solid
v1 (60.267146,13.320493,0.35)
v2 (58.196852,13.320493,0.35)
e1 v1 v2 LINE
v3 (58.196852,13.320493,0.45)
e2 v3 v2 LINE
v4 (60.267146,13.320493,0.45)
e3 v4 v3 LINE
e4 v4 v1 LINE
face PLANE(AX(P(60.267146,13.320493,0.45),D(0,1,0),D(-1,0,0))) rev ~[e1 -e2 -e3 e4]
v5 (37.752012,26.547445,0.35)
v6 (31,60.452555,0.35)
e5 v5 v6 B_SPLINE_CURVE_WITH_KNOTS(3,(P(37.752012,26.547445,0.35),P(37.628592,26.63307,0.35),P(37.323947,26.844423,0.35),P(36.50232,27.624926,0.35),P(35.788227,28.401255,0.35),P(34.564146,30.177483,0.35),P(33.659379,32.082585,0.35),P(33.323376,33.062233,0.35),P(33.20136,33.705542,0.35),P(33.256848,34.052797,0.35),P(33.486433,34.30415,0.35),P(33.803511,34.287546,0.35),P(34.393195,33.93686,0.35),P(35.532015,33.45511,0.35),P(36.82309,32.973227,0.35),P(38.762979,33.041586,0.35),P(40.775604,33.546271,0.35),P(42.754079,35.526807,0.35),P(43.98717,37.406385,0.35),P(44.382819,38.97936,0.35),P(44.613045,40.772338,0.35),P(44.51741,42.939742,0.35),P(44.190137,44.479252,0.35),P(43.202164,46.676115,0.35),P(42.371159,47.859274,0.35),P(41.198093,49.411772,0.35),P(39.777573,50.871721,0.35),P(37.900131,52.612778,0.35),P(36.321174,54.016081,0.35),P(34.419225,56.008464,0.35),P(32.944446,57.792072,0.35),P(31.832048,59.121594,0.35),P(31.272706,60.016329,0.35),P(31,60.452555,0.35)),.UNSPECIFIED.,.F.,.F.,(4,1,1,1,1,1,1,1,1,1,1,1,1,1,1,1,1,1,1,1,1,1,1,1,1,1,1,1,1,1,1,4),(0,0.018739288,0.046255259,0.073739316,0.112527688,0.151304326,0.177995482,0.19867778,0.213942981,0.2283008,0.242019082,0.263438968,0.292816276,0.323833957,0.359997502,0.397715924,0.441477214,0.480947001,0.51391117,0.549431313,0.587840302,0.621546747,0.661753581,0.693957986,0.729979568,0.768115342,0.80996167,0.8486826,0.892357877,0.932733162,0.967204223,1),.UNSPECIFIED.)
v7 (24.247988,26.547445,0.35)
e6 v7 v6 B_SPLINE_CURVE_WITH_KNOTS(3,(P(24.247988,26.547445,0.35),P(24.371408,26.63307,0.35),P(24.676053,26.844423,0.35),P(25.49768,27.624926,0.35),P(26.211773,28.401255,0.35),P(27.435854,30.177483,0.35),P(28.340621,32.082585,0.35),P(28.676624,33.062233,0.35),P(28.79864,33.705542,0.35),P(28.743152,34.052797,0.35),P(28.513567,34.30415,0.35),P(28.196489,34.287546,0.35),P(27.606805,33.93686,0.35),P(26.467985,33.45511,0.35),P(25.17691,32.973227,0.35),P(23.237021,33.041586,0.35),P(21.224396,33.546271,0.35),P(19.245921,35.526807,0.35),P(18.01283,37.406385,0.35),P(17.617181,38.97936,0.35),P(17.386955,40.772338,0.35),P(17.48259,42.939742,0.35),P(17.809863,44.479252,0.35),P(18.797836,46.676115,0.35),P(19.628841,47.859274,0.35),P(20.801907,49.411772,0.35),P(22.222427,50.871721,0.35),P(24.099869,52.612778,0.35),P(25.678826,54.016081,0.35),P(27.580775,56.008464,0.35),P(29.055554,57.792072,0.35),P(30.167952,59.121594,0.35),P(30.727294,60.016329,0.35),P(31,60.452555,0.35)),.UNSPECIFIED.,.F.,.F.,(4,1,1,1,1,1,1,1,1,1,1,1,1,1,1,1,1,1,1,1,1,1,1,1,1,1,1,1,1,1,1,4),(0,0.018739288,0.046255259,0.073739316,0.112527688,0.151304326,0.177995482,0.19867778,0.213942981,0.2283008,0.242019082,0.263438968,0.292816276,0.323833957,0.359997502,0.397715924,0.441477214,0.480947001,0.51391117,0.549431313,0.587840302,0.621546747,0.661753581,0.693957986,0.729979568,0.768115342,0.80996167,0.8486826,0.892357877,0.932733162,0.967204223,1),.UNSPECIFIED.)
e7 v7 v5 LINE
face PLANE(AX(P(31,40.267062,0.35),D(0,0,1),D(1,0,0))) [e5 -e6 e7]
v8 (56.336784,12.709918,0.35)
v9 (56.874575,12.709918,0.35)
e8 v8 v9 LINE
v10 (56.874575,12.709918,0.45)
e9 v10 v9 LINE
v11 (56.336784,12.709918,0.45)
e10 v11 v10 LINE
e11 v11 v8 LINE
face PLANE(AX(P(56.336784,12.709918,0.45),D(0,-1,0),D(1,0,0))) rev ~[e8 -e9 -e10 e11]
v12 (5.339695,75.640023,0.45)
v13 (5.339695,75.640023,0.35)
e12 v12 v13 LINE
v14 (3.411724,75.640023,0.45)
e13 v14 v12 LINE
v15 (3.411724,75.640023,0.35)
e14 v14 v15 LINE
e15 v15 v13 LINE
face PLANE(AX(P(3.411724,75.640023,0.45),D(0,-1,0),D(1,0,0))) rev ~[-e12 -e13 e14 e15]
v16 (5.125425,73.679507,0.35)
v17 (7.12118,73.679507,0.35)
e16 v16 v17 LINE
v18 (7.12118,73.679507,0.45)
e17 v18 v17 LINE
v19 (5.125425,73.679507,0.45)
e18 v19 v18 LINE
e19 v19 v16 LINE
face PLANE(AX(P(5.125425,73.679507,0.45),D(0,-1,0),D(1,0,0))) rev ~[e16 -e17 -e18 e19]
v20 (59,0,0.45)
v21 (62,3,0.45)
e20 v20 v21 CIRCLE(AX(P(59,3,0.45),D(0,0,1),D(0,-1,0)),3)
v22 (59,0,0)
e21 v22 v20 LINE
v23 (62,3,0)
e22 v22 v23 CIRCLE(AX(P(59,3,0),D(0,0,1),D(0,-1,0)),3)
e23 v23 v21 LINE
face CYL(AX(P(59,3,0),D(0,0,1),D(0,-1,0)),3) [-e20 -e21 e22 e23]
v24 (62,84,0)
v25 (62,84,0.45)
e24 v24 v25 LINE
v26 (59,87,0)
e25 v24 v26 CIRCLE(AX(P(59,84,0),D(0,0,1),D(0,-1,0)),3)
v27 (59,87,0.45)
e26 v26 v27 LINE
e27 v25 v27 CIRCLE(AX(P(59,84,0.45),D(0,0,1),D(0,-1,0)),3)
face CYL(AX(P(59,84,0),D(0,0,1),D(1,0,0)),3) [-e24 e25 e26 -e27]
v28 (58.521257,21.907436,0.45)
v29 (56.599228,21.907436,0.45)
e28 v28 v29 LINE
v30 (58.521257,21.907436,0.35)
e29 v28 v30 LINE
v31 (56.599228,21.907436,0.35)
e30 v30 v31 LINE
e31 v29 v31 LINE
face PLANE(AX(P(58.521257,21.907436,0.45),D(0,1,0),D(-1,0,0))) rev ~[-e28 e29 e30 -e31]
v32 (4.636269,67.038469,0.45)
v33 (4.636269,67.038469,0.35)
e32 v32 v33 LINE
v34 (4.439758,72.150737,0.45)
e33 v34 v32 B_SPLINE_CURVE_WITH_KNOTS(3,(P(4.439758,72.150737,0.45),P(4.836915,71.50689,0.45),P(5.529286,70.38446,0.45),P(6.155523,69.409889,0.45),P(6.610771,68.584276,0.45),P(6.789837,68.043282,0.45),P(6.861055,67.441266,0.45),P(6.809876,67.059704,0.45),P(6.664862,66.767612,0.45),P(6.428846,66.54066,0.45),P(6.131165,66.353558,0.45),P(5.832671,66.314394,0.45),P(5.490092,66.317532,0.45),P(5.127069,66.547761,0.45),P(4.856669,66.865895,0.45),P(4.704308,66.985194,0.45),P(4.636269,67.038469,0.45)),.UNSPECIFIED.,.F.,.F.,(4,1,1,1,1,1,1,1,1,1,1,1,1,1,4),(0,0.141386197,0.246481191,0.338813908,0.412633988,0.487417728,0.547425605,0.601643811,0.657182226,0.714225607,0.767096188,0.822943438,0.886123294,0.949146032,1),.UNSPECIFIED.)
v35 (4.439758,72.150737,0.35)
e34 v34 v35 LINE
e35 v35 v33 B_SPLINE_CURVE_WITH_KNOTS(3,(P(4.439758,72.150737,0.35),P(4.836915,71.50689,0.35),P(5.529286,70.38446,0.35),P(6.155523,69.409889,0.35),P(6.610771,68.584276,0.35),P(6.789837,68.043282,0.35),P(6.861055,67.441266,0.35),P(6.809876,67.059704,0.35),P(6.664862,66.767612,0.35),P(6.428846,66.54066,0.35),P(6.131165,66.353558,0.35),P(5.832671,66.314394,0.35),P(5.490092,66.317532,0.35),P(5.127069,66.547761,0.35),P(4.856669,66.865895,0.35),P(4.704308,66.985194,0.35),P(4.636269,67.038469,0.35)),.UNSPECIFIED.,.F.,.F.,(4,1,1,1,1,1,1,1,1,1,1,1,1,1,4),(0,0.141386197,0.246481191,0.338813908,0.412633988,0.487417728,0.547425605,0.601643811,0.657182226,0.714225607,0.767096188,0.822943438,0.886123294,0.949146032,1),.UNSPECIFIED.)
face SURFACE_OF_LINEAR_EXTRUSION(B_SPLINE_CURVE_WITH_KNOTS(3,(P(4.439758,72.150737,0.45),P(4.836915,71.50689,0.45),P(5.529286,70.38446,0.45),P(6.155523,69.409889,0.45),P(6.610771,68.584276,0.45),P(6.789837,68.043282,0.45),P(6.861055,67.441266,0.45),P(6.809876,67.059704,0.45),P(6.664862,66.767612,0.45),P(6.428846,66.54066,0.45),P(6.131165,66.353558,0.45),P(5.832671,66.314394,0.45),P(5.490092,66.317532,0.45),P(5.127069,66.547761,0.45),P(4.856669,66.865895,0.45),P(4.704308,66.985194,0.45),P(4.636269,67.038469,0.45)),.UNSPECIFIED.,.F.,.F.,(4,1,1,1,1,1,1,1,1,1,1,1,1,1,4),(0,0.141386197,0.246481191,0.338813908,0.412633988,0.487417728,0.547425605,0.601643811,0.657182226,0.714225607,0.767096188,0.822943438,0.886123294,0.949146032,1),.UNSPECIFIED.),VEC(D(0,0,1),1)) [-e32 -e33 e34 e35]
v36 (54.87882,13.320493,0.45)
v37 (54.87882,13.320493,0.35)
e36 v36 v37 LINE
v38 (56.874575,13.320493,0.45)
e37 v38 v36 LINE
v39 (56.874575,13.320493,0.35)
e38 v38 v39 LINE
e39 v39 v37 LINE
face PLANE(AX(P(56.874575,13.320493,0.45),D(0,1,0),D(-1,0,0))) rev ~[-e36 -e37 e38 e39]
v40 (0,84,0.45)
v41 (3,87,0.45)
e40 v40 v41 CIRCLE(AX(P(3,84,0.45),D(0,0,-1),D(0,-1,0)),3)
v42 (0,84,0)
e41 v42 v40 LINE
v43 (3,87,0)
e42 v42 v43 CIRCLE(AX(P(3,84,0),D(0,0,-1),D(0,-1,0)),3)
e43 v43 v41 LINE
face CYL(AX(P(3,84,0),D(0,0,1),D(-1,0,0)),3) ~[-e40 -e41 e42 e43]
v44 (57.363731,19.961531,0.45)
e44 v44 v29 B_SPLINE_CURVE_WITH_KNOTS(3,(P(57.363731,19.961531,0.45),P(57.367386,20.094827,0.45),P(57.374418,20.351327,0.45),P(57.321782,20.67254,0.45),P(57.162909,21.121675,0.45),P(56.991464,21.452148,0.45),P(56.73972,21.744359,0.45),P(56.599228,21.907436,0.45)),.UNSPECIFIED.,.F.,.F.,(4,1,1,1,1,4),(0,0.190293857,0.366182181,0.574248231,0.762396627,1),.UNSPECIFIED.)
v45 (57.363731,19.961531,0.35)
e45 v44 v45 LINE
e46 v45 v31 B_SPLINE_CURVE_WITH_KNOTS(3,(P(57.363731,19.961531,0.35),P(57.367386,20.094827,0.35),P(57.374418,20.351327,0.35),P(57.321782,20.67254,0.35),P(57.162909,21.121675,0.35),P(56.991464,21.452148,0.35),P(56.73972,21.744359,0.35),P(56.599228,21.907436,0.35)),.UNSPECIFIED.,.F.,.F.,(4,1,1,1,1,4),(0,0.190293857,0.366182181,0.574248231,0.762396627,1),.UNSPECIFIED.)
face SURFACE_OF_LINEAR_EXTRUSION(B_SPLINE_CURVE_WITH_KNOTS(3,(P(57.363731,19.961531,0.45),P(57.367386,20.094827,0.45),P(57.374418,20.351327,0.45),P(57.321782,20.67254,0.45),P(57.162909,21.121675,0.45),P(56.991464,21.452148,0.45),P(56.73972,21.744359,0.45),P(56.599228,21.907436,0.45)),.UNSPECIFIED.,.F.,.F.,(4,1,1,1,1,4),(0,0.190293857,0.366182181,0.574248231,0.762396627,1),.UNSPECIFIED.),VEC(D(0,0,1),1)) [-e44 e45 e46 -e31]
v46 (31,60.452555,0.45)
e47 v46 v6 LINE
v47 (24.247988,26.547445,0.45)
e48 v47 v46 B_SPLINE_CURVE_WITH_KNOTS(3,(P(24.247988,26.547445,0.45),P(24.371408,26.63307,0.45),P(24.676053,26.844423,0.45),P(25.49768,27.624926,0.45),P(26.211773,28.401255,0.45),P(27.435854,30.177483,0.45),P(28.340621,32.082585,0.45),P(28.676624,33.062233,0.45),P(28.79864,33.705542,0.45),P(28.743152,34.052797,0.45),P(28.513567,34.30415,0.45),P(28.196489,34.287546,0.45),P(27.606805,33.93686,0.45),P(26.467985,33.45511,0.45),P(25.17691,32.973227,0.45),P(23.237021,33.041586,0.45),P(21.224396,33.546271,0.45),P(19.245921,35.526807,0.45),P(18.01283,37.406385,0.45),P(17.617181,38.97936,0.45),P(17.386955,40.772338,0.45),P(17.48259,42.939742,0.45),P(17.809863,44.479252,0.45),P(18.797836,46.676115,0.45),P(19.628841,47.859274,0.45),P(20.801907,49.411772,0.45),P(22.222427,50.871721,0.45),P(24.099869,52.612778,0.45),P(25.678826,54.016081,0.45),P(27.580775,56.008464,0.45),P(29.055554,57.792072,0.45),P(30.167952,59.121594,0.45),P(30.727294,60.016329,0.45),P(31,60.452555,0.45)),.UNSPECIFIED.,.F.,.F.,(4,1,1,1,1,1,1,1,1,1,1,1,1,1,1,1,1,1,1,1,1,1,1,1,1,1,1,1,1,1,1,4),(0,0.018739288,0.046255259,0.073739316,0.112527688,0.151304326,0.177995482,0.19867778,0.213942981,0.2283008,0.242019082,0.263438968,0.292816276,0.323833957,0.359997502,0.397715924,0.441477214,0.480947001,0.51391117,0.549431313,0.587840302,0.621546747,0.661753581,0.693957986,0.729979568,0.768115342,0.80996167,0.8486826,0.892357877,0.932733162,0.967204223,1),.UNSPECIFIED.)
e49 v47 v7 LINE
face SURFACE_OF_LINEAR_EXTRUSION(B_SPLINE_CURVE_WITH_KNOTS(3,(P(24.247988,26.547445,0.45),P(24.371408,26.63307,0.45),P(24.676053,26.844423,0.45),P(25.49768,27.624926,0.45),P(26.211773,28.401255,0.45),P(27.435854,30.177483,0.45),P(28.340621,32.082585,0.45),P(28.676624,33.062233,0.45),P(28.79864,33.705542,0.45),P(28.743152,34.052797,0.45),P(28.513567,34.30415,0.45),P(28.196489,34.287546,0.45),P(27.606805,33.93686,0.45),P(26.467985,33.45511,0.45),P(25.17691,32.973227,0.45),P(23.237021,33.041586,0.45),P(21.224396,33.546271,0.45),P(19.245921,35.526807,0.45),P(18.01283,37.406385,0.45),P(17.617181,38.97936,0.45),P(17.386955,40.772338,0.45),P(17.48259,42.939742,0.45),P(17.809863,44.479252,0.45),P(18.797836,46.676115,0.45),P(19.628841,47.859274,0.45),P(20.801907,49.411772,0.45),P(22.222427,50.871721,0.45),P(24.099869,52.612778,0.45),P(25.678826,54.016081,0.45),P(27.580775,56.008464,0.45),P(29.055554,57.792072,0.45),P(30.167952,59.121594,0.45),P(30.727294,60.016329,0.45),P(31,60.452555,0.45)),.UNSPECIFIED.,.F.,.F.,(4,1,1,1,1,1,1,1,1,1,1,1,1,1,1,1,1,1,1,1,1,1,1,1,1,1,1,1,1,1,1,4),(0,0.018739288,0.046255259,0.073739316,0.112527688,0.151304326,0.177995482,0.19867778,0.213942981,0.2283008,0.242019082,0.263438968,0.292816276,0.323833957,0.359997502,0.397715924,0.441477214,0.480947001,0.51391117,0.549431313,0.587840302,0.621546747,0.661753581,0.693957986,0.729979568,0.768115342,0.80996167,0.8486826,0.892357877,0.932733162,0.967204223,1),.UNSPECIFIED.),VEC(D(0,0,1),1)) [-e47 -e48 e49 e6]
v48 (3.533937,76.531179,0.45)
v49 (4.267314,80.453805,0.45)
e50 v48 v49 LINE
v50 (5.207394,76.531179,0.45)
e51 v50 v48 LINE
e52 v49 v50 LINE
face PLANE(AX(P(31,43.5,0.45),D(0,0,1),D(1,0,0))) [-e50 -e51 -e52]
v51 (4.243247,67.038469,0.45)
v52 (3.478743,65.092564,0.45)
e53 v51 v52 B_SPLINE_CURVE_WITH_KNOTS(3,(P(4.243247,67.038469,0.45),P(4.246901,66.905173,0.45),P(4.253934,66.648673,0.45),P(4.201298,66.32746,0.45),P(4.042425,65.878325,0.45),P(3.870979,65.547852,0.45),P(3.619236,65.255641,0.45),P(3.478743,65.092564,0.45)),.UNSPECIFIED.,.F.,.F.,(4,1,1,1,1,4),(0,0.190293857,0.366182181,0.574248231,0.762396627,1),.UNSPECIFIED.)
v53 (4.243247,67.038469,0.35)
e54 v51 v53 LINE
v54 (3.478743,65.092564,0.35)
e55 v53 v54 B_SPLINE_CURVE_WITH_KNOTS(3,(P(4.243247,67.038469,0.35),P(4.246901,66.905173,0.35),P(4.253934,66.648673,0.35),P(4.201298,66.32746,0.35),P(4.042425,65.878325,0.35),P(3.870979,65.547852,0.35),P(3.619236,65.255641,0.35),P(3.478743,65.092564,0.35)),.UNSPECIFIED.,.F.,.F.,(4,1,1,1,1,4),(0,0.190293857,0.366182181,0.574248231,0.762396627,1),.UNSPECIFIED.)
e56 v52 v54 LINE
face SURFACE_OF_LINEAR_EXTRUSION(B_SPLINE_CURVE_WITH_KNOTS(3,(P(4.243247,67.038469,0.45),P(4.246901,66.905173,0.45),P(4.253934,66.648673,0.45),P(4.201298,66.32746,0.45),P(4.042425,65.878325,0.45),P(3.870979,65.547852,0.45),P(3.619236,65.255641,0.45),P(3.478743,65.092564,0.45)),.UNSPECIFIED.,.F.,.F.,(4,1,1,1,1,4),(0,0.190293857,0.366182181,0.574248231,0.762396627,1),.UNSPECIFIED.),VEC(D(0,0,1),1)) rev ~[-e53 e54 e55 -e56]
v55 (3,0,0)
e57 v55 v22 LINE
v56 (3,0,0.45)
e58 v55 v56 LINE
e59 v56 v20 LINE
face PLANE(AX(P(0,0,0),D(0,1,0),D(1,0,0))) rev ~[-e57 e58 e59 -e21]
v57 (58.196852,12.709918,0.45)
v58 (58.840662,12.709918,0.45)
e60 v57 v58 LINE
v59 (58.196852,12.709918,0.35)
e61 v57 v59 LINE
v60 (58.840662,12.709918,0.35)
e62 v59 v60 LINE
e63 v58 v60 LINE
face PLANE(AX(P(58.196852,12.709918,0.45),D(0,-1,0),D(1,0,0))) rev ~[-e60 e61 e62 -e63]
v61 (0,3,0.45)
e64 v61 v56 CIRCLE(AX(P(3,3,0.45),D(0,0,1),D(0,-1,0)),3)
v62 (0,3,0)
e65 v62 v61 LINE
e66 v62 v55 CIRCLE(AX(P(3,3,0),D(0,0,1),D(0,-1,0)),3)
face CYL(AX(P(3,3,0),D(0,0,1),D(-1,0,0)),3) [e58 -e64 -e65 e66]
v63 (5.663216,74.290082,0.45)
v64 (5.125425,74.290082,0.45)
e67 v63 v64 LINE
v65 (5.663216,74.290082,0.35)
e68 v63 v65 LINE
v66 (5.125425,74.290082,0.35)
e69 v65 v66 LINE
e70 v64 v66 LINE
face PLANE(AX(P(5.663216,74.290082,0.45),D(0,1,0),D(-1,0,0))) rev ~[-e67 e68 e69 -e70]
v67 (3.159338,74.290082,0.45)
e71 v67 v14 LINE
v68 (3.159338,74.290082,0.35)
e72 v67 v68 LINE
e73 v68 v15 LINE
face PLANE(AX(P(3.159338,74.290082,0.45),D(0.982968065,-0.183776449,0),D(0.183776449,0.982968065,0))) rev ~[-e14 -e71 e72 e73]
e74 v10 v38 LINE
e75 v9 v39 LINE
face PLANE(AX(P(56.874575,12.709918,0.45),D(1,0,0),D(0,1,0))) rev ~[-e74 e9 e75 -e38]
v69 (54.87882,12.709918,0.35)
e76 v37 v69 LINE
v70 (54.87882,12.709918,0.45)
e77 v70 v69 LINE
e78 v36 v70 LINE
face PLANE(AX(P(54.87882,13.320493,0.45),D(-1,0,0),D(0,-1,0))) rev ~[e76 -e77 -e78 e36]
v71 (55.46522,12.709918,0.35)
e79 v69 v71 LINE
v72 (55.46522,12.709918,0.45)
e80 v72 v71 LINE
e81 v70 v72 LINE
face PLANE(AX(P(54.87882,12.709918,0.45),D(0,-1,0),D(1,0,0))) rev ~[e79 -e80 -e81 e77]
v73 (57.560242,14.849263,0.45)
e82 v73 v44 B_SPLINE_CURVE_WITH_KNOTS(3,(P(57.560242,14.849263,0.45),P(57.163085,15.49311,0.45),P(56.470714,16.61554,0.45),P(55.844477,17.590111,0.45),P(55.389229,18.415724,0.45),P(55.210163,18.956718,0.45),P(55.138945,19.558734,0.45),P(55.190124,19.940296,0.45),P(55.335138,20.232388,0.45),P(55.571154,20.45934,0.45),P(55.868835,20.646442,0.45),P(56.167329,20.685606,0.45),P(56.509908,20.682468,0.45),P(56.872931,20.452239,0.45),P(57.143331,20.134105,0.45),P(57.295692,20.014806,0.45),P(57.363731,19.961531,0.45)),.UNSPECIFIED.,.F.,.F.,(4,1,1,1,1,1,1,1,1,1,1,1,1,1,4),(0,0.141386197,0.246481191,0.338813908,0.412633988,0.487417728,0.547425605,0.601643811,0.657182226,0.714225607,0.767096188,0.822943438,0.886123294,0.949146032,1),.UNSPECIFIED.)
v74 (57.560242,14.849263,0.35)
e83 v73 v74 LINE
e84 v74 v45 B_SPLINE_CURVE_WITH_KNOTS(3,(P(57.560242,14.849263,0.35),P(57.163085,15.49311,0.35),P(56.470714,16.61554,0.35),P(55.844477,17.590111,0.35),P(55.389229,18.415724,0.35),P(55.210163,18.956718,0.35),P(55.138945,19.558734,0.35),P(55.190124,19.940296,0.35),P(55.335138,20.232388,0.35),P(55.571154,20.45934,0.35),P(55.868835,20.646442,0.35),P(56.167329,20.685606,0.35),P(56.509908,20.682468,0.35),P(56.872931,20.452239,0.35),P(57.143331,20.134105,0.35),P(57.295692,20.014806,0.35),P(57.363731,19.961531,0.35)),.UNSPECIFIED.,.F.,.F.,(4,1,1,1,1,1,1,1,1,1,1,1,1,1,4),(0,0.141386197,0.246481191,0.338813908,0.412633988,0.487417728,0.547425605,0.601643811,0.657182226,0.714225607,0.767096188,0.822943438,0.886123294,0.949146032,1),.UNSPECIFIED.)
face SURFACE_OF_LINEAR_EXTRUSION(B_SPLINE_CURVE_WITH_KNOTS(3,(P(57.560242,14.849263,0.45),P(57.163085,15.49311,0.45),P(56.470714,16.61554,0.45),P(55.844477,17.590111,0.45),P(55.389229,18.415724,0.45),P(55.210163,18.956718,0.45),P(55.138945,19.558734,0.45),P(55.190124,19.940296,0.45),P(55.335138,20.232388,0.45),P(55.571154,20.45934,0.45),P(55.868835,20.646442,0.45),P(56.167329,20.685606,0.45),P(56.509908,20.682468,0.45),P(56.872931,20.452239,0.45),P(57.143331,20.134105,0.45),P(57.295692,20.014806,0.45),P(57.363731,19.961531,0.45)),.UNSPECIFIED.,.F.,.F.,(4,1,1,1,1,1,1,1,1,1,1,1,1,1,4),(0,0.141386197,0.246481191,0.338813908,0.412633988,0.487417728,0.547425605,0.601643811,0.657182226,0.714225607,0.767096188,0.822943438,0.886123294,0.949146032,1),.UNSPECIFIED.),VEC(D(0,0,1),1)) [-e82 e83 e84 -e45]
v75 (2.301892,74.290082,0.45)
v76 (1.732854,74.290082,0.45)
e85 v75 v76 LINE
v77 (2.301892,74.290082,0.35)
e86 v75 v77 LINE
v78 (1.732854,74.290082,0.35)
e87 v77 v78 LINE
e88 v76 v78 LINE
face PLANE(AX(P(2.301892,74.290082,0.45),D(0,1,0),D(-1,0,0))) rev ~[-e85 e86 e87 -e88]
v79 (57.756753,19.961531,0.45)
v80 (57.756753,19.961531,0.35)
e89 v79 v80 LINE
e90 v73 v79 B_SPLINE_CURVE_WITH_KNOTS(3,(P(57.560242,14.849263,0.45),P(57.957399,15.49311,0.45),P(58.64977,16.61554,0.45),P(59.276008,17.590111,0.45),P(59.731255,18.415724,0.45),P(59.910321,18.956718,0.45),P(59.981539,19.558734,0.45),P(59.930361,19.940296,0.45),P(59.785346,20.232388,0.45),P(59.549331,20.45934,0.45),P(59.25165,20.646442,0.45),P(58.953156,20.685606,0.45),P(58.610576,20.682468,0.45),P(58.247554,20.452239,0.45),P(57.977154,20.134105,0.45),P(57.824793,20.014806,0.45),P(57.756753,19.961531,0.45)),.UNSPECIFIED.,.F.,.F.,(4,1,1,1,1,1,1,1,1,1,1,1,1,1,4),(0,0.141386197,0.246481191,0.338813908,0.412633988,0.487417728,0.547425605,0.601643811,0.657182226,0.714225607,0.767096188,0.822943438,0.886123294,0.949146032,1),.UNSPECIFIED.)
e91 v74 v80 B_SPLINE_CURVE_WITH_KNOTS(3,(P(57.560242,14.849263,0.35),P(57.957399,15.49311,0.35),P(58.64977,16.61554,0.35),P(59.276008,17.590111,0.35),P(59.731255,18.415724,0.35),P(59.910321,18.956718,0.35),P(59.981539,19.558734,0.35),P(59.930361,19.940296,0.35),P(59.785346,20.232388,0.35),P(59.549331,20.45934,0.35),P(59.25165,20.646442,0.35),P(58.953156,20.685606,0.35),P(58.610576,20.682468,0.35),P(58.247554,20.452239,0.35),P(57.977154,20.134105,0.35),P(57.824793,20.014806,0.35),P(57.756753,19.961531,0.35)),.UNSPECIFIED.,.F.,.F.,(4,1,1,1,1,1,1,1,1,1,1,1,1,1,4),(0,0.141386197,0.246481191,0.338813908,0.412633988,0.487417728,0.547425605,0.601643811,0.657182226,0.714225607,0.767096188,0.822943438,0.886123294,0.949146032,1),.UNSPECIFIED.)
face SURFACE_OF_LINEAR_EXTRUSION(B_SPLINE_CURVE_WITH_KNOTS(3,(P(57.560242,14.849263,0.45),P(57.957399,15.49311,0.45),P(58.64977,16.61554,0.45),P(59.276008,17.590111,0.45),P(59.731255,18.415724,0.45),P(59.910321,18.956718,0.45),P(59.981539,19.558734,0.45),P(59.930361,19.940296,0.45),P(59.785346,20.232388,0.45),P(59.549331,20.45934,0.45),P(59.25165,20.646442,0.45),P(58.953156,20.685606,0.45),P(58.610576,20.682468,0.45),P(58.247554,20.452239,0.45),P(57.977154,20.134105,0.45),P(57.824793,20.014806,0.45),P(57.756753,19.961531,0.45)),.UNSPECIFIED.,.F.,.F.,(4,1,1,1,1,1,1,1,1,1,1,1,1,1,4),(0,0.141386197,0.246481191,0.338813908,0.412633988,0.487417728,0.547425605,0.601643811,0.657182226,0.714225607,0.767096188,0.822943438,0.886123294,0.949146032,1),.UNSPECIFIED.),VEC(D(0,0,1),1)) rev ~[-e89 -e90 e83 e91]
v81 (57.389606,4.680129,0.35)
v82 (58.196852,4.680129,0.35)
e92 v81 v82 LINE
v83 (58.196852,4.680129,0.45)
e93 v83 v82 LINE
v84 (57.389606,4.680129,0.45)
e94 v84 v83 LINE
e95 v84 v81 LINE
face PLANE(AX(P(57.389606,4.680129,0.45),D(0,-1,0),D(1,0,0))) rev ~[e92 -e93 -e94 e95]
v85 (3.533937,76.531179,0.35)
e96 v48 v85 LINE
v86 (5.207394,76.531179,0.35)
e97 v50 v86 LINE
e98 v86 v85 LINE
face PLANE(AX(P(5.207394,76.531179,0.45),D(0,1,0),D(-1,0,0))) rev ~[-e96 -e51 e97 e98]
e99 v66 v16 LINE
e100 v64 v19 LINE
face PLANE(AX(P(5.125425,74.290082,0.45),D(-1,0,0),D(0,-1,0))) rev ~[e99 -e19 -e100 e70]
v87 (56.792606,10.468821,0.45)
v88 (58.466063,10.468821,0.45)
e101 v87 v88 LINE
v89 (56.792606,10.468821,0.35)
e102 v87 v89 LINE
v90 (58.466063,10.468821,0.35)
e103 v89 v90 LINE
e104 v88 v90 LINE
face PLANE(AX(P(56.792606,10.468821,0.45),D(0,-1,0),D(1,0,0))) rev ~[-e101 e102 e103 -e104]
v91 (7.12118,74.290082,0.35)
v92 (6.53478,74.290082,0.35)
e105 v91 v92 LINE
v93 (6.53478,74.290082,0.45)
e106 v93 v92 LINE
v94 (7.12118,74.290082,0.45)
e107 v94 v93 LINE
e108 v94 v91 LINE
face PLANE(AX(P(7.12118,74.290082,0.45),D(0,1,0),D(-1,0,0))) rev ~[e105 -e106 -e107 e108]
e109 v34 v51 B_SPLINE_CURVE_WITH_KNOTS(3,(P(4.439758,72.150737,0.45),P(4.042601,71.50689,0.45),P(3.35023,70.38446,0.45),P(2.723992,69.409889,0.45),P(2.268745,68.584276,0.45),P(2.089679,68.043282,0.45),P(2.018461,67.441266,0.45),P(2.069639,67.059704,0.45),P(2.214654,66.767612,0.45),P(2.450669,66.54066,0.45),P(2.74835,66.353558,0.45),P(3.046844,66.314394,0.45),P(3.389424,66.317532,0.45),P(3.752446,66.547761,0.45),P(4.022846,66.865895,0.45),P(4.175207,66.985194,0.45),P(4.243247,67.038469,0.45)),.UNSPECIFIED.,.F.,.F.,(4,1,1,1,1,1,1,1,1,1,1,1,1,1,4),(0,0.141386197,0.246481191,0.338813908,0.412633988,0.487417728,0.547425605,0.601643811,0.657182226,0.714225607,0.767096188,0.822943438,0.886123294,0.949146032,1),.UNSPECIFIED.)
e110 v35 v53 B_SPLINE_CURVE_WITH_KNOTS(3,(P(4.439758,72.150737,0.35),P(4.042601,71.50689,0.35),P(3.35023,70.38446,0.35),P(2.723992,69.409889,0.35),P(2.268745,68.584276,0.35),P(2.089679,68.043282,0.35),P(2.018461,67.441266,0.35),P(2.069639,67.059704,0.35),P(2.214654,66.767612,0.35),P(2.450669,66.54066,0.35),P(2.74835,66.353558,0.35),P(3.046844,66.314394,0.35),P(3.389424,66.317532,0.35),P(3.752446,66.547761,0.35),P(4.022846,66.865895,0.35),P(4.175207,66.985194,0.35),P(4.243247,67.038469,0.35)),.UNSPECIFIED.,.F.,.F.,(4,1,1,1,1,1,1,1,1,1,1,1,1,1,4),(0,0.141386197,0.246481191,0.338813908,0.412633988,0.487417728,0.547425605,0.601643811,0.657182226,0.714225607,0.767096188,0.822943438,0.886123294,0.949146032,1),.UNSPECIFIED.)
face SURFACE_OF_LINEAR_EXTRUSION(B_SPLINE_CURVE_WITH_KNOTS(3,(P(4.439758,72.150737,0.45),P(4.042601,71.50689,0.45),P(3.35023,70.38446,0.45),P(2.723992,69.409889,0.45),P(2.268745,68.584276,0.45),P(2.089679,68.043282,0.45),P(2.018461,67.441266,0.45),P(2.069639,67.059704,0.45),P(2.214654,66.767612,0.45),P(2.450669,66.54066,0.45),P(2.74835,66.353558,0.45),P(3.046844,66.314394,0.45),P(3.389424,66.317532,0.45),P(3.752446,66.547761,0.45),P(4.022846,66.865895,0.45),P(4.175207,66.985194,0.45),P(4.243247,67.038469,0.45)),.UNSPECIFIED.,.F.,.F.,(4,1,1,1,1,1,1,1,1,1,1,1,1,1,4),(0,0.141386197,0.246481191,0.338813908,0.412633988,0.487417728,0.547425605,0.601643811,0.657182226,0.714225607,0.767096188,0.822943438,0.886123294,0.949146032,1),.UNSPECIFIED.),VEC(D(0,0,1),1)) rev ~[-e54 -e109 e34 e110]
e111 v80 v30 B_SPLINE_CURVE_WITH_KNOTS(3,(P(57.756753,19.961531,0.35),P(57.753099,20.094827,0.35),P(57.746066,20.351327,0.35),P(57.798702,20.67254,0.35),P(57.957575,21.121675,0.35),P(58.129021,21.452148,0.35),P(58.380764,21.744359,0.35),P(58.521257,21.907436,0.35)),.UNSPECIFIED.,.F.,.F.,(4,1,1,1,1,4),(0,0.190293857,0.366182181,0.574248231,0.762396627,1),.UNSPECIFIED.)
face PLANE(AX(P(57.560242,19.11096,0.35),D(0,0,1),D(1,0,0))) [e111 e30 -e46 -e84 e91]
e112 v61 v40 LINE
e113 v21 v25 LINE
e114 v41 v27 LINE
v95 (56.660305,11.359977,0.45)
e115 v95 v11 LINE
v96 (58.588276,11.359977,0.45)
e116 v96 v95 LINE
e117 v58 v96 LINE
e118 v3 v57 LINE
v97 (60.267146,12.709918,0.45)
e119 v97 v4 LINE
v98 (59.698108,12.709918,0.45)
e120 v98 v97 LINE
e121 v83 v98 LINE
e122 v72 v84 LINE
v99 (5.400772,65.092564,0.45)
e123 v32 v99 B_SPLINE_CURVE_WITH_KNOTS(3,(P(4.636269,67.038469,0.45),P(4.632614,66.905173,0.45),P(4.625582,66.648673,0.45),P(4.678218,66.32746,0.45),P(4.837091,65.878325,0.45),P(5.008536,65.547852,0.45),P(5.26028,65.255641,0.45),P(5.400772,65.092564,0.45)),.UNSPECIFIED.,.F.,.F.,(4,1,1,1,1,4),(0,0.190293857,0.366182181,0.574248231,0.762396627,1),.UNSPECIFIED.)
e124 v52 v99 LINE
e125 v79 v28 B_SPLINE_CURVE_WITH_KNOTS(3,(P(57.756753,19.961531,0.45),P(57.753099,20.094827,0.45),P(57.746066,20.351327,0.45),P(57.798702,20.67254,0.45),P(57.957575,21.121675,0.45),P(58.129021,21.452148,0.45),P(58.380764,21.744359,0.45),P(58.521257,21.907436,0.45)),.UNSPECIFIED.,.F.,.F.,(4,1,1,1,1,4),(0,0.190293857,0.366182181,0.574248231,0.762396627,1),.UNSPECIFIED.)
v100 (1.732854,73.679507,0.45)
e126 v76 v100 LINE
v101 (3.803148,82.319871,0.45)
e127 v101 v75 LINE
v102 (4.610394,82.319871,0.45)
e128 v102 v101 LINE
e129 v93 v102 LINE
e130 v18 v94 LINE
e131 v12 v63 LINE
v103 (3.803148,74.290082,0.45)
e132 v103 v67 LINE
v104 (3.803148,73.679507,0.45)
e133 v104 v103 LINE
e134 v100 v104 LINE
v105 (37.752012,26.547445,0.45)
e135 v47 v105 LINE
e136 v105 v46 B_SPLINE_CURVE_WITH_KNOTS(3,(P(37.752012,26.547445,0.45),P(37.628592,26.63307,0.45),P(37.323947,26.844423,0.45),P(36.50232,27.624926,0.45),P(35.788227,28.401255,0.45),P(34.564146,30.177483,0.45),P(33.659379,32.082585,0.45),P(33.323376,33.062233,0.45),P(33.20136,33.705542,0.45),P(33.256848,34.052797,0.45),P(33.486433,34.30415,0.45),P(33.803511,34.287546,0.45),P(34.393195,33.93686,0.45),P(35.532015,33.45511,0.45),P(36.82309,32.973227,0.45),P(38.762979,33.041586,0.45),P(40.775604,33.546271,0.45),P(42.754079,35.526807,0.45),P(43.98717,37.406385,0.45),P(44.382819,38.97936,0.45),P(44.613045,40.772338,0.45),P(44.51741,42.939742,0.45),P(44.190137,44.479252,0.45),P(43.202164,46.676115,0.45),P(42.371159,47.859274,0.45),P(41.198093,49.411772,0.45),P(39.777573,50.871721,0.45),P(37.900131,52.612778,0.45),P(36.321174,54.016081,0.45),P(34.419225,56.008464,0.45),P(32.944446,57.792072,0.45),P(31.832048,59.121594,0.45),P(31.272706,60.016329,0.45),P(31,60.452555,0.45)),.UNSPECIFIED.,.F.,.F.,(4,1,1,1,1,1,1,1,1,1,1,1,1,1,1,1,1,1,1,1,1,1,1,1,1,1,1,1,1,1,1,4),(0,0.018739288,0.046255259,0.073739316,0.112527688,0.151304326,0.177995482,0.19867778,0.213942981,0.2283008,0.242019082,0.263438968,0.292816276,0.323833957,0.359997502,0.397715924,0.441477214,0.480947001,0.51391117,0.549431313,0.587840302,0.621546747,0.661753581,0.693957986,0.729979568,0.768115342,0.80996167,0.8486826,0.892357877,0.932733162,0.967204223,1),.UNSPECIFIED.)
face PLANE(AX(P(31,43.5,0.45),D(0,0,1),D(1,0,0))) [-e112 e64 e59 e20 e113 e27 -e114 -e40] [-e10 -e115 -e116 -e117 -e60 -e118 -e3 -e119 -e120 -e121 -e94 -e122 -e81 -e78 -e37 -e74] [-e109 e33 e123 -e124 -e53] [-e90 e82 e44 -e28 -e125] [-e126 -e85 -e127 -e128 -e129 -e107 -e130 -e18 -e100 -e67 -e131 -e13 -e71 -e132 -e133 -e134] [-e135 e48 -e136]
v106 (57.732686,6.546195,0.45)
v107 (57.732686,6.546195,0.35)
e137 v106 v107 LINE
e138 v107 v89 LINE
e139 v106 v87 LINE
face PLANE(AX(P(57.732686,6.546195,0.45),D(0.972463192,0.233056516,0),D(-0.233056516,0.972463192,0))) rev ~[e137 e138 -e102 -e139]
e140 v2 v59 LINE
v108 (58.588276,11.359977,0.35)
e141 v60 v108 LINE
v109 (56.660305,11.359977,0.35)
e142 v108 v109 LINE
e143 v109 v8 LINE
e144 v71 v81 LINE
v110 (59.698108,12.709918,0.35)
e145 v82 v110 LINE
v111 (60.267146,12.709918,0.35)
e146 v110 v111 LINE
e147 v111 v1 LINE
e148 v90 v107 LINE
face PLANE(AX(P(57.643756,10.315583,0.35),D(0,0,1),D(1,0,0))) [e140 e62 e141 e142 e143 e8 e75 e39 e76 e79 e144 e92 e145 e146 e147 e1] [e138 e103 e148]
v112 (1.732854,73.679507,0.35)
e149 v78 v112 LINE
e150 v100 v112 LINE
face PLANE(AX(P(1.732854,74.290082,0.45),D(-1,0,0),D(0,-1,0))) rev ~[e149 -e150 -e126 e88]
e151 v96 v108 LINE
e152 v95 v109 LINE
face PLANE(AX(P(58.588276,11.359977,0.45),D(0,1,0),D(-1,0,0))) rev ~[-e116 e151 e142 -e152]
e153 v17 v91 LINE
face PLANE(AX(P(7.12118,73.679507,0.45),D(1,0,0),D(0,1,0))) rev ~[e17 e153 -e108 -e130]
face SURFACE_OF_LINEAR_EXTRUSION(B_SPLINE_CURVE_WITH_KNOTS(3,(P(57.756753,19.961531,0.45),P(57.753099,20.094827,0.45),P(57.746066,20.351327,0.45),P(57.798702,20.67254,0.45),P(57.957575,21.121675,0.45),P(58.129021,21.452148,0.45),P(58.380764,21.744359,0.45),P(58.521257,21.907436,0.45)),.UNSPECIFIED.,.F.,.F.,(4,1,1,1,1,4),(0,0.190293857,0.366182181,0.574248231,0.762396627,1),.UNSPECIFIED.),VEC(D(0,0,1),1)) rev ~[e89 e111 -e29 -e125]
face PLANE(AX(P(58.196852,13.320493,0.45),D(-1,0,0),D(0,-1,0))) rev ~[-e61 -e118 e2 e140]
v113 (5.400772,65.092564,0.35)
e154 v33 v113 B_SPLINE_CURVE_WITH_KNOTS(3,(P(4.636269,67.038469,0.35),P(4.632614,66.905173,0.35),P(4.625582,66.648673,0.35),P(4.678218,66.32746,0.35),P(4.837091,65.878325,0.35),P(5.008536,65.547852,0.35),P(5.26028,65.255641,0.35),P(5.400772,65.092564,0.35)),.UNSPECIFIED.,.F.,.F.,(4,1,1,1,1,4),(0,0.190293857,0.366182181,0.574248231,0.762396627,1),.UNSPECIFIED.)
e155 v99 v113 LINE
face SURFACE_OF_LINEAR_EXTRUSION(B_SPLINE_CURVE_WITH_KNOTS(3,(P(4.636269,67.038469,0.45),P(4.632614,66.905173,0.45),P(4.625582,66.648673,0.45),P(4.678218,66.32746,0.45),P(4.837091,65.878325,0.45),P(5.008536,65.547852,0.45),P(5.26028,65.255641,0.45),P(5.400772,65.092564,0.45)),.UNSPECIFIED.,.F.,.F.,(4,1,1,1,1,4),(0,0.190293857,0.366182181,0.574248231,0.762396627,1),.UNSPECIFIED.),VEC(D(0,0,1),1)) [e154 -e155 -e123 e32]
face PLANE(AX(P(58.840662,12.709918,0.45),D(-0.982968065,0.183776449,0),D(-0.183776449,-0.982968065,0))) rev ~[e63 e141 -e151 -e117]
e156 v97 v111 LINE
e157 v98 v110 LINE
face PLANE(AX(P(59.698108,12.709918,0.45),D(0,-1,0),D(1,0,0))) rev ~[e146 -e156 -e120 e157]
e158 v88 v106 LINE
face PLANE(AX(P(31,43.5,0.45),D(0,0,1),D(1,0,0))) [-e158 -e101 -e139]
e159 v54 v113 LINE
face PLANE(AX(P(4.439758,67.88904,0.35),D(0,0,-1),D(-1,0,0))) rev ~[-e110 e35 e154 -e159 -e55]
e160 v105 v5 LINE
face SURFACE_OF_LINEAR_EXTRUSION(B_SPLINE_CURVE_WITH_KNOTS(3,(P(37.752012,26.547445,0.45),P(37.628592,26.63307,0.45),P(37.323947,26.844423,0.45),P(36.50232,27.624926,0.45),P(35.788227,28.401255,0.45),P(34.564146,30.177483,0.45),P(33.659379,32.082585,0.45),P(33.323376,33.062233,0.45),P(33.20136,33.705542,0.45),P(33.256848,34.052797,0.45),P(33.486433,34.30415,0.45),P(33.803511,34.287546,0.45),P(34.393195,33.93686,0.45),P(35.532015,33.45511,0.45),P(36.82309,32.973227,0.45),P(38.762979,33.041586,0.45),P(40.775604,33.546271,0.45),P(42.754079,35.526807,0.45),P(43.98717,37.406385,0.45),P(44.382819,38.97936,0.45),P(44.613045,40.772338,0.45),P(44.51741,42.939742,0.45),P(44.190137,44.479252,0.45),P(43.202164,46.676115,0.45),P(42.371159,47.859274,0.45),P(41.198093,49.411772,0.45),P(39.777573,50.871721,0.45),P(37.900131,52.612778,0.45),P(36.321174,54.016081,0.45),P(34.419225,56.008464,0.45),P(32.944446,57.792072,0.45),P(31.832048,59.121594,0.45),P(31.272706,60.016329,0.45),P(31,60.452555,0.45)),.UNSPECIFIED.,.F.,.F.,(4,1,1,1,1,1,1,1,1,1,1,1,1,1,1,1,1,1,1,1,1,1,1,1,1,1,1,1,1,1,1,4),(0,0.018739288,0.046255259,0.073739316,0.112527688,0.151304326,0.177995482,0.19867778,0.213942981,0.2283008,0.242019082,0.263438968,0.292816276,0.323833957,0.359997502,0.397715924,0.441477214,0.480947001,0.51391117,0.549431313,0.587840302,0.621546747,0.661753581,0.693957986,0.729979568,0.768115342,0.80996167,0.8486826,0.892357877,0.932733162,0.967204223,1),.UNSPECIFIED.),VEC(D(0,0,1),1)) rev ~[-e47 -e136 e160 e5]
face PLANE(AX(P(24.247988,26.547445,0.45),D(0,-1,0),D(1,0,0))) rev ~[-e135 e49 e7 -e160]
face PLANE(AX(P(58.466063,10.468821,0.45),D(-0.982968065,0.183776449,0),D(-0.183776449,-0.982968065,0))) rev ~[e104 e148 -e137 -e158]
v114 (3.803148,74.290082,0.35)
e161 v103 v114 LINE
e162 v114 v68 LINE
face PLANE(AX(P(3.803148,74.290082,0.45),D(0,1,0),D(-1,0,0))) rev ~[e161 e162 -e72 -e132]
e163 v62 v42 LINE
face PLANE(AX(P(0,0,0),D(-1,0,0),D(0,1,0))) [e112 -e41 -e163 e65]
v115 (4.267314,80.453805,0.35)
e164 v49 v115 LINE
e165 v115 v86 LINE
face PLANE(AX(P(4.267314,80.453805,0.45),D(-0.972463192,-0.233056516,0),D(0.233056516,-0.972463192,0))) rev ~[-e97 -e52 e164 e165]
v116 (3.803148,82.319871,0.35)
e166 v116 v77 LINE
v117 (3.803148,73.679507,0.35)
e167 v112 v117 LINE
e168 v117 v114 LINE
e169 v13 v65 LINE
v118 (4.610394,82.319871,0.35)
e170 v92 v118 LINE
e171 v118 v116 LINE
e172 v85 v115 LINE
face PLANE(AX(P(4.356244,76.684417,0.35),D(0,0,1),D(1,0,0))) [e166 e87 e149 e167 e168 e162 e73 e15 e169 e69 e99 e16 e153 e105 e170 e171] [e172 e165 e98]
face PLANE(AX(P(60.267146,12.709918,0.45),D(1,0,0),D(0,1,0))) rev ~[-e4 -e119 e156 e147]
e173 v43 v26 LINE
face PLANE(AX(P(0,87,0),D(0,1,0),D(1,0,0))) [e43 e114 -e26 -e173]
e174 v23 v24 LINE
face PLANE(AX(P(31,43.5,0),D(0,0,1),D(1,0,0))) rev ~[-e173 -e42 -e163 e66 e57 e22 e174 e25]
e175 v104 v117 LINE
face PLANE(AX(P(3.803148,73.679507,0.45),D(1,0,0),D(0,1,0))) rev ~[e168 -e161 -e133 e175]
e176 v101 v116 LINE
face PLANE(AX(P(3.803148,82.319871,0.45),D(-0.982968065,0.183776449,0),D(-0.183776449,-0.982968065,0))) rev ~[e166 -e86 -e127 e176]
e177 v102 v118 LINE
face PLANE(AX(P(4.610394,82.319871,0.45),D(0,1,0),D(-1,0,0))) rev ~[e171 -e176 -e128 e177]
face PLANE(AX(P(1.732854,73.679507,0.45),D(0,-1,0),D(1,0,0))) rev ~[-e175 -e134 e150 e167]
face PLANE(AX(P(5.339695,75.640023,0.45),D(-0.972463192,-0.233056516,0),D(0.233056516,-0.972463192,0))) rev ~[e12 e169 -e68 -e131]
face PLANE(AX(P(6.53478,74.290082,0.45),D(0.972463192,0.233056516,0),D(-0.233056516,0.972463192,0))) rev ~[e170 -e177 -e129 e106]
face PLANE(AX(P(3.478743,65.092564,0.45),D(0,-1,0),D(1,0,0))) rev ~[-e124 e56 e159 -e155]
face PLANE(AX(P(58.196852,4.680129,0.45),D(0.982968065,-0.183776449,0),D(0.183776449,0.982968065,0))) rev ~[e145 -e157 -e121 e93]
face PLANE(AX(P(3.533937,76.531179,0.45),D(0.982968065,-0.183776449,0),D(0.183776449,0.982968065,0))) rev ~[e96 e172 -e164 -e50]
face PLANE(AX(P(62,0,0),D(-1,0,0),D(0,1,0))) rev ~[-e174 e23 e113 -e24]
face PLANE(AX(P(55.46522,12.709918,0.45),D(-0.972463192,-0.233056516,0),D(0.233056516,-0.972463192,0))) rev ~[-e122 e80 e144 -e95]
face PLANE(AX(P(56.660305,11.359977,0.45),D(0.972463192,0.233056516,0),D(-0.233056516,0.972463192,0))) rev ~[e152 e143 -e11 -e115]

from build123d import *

# Parameters (mm, degrees)
F0_W     = 62
F0_H     = 87
F1_DEPTH = 0.45
F2_R     = 3
F4_DEPTH = 0.1


with BuildPart() as f1:
    # F0 (on Top) → F1 (new body)
    with BuildSketch(Plane.XY):
        with Locations((31, 43.5)):
            Rectangle(F0_W, F0_H)
    extrude(amount=F1_DEPTH)

    # F2
    f2_edges = [f1.edges().sort_by_distance(p)[0] for p in [
        (62, 87, 0.225),
        (0, 87, 0.225),
        (62, 0, 0.225),
        (0, 0, 0.225),
    ]]
    fillet(f2_edges, radius=F2_R)

    # F3 (on face) → F4 (cut)
    with BuildSketch(Plane.XY.offset(0.45)):
        Polygon((4.6103941277, 82.3198705912), (3.8031477015, 82.3198705912), (2.3018923596, 74.2900818586), (1.7328544054, 74.2900818586), (1.7328544054, 73.6795067787), (3.8031477015, 73.6795067787), (3.8031477015, 74.2900818586), (3.1593375381, 74.2900818586), (3.4117235232, 75.6400228596), (5.3396950772, 75.6400228596), (5.6632163674, 74.2900818586), (5.1254248247, 74.2900818586), (5.1254248247, 73.6795067787), (7.1211797185, 73.6795067787), (7.1211797185, 74.2900818586), (6.5347801634, 74.2900818586), align=None)
        Polygon((4.2673139068, 80.4538051702), (5.2073942497, 76.5311792493), (4.2673139068, 76.5311792493), (3.5339368137, 76.5311792493), align=None, mode=Mode.SUBTRACT)
        with BuildLine():
            add(Edge.make_bspline(
                [(4.4397576712, 72.1507370472), (4.8369145501, 71.5068902989), (5.5292855369, 70.3844602664), (6.1555231929, 69.4098889942), (6.6107708272, 68.5842755704), (6.789836569, 68.0432823133), (6.8610545111, 67.4412662849), (6.8098761533, 67.0597038749), (6.6648616449, 66.7676120775), (6.4288462308, 66.5406602614), (6.1311650078, 66.3535576479), (5.8326713897, 66.3143937609), (5.4900916417, 66.3175318752), (5.1270691768, 66.5477607577), (4.8566693677, 66.8658952105), (4.7043084678, 66.985193797), (4.6362685971, 67.0384690166)],
                knots=[0, 0, 0, 0, 0.1413861968, 0.2464811911, 0.3388139078, 0.4126339875, 0.4874177284, 0.5474256046, 0.6016438112, 0.6571822255, 0.7142256067, 0.767096188, 0.8229434379, 0.8861232936, 0.9491460317, 1, 1, 1, 1], degree=3))
            add(Edge.make_bspline(
                [(4.4397576712, 72.1507370472), (4.0426007923, 71.5068902989), (3.3502298055, 70.3844602664), (2.7239921495, 69.4098889942), (2.2687445152, 68.5842755704), (2.0896787734, 68.0432823133), (2.0184608313, 67.4412662849), (2.0696391891, 67.0597038749), (2.2146536975, 66.7676120775), (2.4506691116, 66.5406602614), (2.7483503346, 66.3535576479), (3.0468439527, 66.3143937609), (3.3894237007, 66.3175318752), (3.7524461656, 66.5477607577), (4.0228459747, 66.8658952105), (4.1752068746, 66.985193797), (4.2432467453, 67.0384690166)],
                knots=[0, 0, 0, 0, 0.1413861968, 0.2464811911, 0.3388139078, 0.4126339875, 0.4874177284, 0.5474256046, 0.6016438112, 0.6571822255, 0.7142256067, 0.767096188, 0.8229434379, 0.8861232936, 0.9491460317, 1, 1, 1, 1], degree=3))
            add(Edge.make_bspline(
                [(4.2432467453, 67.0384690166), (4.2469012325, 66.9051732952), (4.2539335567, 66.6486725412), (4.2012975101, 66.3274602971), (4.0424245957, 65.8783252744), (3.8709793065, 65.5478520579), (3.6192358104, 65.2556407798), (3.4787429031, 65.0925636292)],
                knots=[0, 0, 0, 0, 0.1902938575, 0.3661821807, 0.5742482312, 0.762396627, 1, 1, 1, 1], degree=3))
            Line((3.4787429031, 65.0925636292), (4.4397576712, 65.0925636292))
            Line((4.4397576712, 65.0925636292), (5.4007724393, 65.0925636292))
            add(Edge.make_bspline(
                [(4.6362685971, 67.0384690166), (4.6326141099, 66.9051732952), (4.6255817857, 66.6486725412), (4.6782178323, 66.3274602971), (4.8370907467, 65.8783252744), (5.0085360359, 65.5478520579), (5.260279532, 65.2556407798), (5.4007724393, 65.0925636292)],
                knots=[0, 0, 0, 0, 0.1902938575, 0.3661821807, 0.5742482312, 0.762396627, 1, 1, 1, 1], degree=3))
        make_face()
        with BuildLine():
            Line((24.2479877025, 26.5474453047), (31, 26.5474453047))
            Line((31, 26.5474453047), (37.7520122975, 26.5474453047))
            add(Edge.make_bspline(
                [(37.7520122975, 26.5474453047), (37.6285922228, 26.6330701862), (37.3239473836, 26.8444229855), (36.5023203914, 27.624925569), (35.7882272753, 28.4012554118), (34.5641456845, 30.1774827346), (33.6593789157, 32.0825849842), (33.3233761896, 33.0622333593), (33.2013599801, 33.7055421015), (33.2568475405, 34.0527966037), (33.4864333596, 34.3041497616), (33.8035109219, 34.2875459005), (34.393194582, 33.9368602847), (35.5320147451, 33.455110111), (36.8230901421, 32.9732274531), (38.7629791298, 33.0415858862), (40.7756043574, 33.5462706003), (42.7540793615, 35.5268071748), (43.9871696191, 37.4063846685), (44.3828189525, 38.979359688), (44.6130448781, 40.772338461), (44.5174096792, 42.9397415092), (44.1901372791, 44.4792519057), (43.2021638277, 46.6761153271), (42.3711591631, 47.8592737778), (41.1980934518, 49.4117717221), (39.7775727263, 50.8717205708), (37.900130737, 52.6127775248), (36.3211736387, 54.0160814099), (34.4192252668, 56.0084642945), (32.9444463756, 57.7920718618), (31.8320484739, 59.1215940483), (31.2727060043, 60.0163289569), (31, 60.4525546953)],
                knots=[0, 0, 0, 0, 0.0187392883, 0.0462552587, 0.0737393157, 0.1125276879, 0.1513043263, 0.177995482, 0.1986777803, 0.2139429813, 0.2283008004, 0.242019082, 0.2634389677, 0.2928162763, 0.3238339572, 0.3599975019, 0.3977159243, 0.4414772137, 0.4809470013, 0.5139111701, 0.5494313129, 0.5878403025, 0.6215467466, 0.6617535814, 0.6939579857, 0.7299795678, 0.7681153417, 0.8099616704, 0.8486825995, 0.8923578767, 0.9327331618, 0.9672042234, 1, 1, 1, 1], degree=3))
            add(Edge.make_bspline(
                [(24.2479877025, 26.5474453047), (24.3714077772, 26.6330701862), (24.6760526164, 26.8444229855), (25.4976796086, 27.624925569), (26.2117727247, 28.4012554118), (27.4358543155, 30.1774827346), (28.3406210843, 32.0825849842), (28.6766238104, 33.0622333593), (28.7986400199, 33.7055421015), (28.7431524595, 34.0527966037), (28.5135666404, 34.3041497616), (28.1964890781, 34.2875459005), (27.606805418, 33.9368602847), (26.4679852549, 33.455110111), (25.1769098579, 32.9732274531), (23.2370208702, 33.0415858862), (21.2243956426, 33.5462706003), (19.2459206385, 35.5268071748), (18.0128303809, 37.4063846685), (17.6171810475, 38.979359688), (17.3869551219, 40.772338461), (17.4825903208, 42.9397415092), (17.8098627209, 44.4792519057), (18.7978361723, 46.6761153271), (19.6288408369, 47.8592737778), (20.8019065482, 49.4117717221), (22.2224272737, 50.8717205708), (24.099869263, 52.6127775248), (25.6788263613, 54.0160814099), (27.5807747332, 56.0084642945), (29.0555536244, 57.7920718618), (30.1679515261, 59.1215940483), (30.7272939957, 60.0163289569), (31, 60.4525546953)],
                knots=[0, 0, 0, 0, 0.0187392883, 0.0462552587, 0.0737393157, 0.1125276879, 0.1513043263, 0.177995482, 0.1986777803, 0.2139429813, 0.2283008004, 0.242019082, 0.2634389677, 0.2928162763, 0.3238339572, 0.3599975019, 0.3977159243, 0.4414772137, 0.4809470013, 0.5139111701, 0.5494313129, 0.5878403025, 0.6215467466, 0.6617535814, 0.6939579857, 0.7299795678, 0.7681153417, 0.8099616704, 0.8486825995, 0.8923578767, 0.9327331618, 0.9672042234, 1, 1, 1, 1], degree=3))
        make_face()
        Polygon((60.2671455946, 12.7099181414), (60.2671455946, 13.3204932213), (58.1968522985, 13.3204932213), (58.1968522985, 12.7099181414), (58.8406624619, 12.7099181414), (58.5882764768, 11.3599771404), (56.6603049228, 11.3599771404), (56.3367836326, 12.7099181414), (56.8745751753, 12.7099181414), (56.8745751753, 13.3204932213), (54.8788202815, 13.3204932213), (54.8788202815, 12.7099181414), (55.4652198366, 12.7099181414), (57.3896058723, 4.6801294088), (58.1968522985, 4.6801294088), (59.6981076404, 12.7099181414), align=None)
        Polygon((57.7326860932, 6.5461948298), (56.7926057503, 10.4688207507), (57.7326860932, 10.4688207507), (58.4660631863, 10.4688207507), align=None, mode=Mode.SUBTRACT)
        with BuildLine():
            Line((58.5212570969, 21.9074363708), (57.5602423288, 21.9074363708))
            Line((57.5602423288, 21.9074363708), (56.5992275607, 21.9074363708))
            add(Edge.make_bspline(
                [(57.3637314029, 19.9615309834), (57.3673858901, 20.0948267048), (57.3744182143, 20.3513274588), (57.3217821677, 20.6725397029), (57.1629092533, 21.1216747256), (56.9914639641, 21.4521479421), (56.739720468, 21.7443592202), (56.5992275607, 21.9074363708)],
                knots=[0, 0, 0, 0, 0.1902938575, 0.3661821807, 0.5742482312, 0.762396627, 1, 1, 1, 1], degree=3))
            add(Edge.make_bspline(
                [(57.5602423288, 14.8492629528), (57.1630854499, 15.4931097011), (56.4707144631, 16.6155397336), (55.8444768071, 17.5901110058), (55.3892291728, 18.4157244296), (55.210163431, 18.9567176867), (55.1389454889, 19.5587337151), (55.1901238467, 19.9402961251), (55.3351383551, 20.2323879225), (55.5711537692, 20.4593397386), (55.8688349922, 20.6464423521), (56.1673286103, 20.6856062391), (56.5099083583, 20.6824681248), (56.8729308232, 20.4522392423), (57.1433306323, 20.1341047895), (57.2956915322, 20.014806203), (57.3637314029, 19.9615309834)],
                knots=[0, 0, 0, 0, 0.1413861968, 0.2464811911, 0.3388139078, 0.4126339875, 0.4874177284, 0.5474256046, 0.6016438112, 0.6571822255, 0.7142256067, 0.767096188, 0.8229434379, 0.8861232936, 0.9491460317, 1, 1, 1, 1], degree=3))
            add(Edge.make_bspline(
                [(57.5602423288, 14.8492629528), (57.9573992077, 15.4931097011), (58.6497701945, 16.6155397336), (59.2760078505, 17.5901110058), (59.7312554848, 18.4157244296), (59.9103212266, 18.9567176867), (59.9815391687, 19.5587337151), (59.9303608109, 19.9402961251), (59.7853463025, 20.2323879225), (59.5493308884, 20.4593397386), (59.2516496654, 20.6464423521), (58.9531560473, 20.6856062391), (58.6105762993, 20.6824681248), (58.2475538344, 20.4522392423), (57.9771540253, 20.1341047895), (57.8247931254, 20.014806203), (57.7567532547, 19.9615309834)],
                knots=[0, 0, 0, 0, 0.1413861968, 0.2464811911, 0.3388139078, 0.4126339875, 0.4874177284, 0.5474256046, 0.6016438112, 0.6571822255, 0.7142256067, 0.767096188, 0.8229434379, 0.8861232936, 0.9491460317, 1, 1, 1, 1], degree=3))
            add(Edge.make_bspline(
                [(57.7567532547, 19.9615309834), (57.7530987675, 20.0948267048), (57.7460664433, 20.3513274588), (57.7987024899, 20.6725397029), (57.9575754043, 21.1216747256), (58.1290206935, 21.4521479421), (58.3807641896, 21.7443592202), (58.5212570969, 21.9074363708)],
                knots=[0, 0, 0, 0, 0.1902938575, 0.3661821807, 0.5742482312, 0.762396627, 1, 1, 1, 1], degree=3))
        make_face()
    extrude(amount=-F4_DEPTH, mode=Mode.SUBTRACT)


solid = f1.part
